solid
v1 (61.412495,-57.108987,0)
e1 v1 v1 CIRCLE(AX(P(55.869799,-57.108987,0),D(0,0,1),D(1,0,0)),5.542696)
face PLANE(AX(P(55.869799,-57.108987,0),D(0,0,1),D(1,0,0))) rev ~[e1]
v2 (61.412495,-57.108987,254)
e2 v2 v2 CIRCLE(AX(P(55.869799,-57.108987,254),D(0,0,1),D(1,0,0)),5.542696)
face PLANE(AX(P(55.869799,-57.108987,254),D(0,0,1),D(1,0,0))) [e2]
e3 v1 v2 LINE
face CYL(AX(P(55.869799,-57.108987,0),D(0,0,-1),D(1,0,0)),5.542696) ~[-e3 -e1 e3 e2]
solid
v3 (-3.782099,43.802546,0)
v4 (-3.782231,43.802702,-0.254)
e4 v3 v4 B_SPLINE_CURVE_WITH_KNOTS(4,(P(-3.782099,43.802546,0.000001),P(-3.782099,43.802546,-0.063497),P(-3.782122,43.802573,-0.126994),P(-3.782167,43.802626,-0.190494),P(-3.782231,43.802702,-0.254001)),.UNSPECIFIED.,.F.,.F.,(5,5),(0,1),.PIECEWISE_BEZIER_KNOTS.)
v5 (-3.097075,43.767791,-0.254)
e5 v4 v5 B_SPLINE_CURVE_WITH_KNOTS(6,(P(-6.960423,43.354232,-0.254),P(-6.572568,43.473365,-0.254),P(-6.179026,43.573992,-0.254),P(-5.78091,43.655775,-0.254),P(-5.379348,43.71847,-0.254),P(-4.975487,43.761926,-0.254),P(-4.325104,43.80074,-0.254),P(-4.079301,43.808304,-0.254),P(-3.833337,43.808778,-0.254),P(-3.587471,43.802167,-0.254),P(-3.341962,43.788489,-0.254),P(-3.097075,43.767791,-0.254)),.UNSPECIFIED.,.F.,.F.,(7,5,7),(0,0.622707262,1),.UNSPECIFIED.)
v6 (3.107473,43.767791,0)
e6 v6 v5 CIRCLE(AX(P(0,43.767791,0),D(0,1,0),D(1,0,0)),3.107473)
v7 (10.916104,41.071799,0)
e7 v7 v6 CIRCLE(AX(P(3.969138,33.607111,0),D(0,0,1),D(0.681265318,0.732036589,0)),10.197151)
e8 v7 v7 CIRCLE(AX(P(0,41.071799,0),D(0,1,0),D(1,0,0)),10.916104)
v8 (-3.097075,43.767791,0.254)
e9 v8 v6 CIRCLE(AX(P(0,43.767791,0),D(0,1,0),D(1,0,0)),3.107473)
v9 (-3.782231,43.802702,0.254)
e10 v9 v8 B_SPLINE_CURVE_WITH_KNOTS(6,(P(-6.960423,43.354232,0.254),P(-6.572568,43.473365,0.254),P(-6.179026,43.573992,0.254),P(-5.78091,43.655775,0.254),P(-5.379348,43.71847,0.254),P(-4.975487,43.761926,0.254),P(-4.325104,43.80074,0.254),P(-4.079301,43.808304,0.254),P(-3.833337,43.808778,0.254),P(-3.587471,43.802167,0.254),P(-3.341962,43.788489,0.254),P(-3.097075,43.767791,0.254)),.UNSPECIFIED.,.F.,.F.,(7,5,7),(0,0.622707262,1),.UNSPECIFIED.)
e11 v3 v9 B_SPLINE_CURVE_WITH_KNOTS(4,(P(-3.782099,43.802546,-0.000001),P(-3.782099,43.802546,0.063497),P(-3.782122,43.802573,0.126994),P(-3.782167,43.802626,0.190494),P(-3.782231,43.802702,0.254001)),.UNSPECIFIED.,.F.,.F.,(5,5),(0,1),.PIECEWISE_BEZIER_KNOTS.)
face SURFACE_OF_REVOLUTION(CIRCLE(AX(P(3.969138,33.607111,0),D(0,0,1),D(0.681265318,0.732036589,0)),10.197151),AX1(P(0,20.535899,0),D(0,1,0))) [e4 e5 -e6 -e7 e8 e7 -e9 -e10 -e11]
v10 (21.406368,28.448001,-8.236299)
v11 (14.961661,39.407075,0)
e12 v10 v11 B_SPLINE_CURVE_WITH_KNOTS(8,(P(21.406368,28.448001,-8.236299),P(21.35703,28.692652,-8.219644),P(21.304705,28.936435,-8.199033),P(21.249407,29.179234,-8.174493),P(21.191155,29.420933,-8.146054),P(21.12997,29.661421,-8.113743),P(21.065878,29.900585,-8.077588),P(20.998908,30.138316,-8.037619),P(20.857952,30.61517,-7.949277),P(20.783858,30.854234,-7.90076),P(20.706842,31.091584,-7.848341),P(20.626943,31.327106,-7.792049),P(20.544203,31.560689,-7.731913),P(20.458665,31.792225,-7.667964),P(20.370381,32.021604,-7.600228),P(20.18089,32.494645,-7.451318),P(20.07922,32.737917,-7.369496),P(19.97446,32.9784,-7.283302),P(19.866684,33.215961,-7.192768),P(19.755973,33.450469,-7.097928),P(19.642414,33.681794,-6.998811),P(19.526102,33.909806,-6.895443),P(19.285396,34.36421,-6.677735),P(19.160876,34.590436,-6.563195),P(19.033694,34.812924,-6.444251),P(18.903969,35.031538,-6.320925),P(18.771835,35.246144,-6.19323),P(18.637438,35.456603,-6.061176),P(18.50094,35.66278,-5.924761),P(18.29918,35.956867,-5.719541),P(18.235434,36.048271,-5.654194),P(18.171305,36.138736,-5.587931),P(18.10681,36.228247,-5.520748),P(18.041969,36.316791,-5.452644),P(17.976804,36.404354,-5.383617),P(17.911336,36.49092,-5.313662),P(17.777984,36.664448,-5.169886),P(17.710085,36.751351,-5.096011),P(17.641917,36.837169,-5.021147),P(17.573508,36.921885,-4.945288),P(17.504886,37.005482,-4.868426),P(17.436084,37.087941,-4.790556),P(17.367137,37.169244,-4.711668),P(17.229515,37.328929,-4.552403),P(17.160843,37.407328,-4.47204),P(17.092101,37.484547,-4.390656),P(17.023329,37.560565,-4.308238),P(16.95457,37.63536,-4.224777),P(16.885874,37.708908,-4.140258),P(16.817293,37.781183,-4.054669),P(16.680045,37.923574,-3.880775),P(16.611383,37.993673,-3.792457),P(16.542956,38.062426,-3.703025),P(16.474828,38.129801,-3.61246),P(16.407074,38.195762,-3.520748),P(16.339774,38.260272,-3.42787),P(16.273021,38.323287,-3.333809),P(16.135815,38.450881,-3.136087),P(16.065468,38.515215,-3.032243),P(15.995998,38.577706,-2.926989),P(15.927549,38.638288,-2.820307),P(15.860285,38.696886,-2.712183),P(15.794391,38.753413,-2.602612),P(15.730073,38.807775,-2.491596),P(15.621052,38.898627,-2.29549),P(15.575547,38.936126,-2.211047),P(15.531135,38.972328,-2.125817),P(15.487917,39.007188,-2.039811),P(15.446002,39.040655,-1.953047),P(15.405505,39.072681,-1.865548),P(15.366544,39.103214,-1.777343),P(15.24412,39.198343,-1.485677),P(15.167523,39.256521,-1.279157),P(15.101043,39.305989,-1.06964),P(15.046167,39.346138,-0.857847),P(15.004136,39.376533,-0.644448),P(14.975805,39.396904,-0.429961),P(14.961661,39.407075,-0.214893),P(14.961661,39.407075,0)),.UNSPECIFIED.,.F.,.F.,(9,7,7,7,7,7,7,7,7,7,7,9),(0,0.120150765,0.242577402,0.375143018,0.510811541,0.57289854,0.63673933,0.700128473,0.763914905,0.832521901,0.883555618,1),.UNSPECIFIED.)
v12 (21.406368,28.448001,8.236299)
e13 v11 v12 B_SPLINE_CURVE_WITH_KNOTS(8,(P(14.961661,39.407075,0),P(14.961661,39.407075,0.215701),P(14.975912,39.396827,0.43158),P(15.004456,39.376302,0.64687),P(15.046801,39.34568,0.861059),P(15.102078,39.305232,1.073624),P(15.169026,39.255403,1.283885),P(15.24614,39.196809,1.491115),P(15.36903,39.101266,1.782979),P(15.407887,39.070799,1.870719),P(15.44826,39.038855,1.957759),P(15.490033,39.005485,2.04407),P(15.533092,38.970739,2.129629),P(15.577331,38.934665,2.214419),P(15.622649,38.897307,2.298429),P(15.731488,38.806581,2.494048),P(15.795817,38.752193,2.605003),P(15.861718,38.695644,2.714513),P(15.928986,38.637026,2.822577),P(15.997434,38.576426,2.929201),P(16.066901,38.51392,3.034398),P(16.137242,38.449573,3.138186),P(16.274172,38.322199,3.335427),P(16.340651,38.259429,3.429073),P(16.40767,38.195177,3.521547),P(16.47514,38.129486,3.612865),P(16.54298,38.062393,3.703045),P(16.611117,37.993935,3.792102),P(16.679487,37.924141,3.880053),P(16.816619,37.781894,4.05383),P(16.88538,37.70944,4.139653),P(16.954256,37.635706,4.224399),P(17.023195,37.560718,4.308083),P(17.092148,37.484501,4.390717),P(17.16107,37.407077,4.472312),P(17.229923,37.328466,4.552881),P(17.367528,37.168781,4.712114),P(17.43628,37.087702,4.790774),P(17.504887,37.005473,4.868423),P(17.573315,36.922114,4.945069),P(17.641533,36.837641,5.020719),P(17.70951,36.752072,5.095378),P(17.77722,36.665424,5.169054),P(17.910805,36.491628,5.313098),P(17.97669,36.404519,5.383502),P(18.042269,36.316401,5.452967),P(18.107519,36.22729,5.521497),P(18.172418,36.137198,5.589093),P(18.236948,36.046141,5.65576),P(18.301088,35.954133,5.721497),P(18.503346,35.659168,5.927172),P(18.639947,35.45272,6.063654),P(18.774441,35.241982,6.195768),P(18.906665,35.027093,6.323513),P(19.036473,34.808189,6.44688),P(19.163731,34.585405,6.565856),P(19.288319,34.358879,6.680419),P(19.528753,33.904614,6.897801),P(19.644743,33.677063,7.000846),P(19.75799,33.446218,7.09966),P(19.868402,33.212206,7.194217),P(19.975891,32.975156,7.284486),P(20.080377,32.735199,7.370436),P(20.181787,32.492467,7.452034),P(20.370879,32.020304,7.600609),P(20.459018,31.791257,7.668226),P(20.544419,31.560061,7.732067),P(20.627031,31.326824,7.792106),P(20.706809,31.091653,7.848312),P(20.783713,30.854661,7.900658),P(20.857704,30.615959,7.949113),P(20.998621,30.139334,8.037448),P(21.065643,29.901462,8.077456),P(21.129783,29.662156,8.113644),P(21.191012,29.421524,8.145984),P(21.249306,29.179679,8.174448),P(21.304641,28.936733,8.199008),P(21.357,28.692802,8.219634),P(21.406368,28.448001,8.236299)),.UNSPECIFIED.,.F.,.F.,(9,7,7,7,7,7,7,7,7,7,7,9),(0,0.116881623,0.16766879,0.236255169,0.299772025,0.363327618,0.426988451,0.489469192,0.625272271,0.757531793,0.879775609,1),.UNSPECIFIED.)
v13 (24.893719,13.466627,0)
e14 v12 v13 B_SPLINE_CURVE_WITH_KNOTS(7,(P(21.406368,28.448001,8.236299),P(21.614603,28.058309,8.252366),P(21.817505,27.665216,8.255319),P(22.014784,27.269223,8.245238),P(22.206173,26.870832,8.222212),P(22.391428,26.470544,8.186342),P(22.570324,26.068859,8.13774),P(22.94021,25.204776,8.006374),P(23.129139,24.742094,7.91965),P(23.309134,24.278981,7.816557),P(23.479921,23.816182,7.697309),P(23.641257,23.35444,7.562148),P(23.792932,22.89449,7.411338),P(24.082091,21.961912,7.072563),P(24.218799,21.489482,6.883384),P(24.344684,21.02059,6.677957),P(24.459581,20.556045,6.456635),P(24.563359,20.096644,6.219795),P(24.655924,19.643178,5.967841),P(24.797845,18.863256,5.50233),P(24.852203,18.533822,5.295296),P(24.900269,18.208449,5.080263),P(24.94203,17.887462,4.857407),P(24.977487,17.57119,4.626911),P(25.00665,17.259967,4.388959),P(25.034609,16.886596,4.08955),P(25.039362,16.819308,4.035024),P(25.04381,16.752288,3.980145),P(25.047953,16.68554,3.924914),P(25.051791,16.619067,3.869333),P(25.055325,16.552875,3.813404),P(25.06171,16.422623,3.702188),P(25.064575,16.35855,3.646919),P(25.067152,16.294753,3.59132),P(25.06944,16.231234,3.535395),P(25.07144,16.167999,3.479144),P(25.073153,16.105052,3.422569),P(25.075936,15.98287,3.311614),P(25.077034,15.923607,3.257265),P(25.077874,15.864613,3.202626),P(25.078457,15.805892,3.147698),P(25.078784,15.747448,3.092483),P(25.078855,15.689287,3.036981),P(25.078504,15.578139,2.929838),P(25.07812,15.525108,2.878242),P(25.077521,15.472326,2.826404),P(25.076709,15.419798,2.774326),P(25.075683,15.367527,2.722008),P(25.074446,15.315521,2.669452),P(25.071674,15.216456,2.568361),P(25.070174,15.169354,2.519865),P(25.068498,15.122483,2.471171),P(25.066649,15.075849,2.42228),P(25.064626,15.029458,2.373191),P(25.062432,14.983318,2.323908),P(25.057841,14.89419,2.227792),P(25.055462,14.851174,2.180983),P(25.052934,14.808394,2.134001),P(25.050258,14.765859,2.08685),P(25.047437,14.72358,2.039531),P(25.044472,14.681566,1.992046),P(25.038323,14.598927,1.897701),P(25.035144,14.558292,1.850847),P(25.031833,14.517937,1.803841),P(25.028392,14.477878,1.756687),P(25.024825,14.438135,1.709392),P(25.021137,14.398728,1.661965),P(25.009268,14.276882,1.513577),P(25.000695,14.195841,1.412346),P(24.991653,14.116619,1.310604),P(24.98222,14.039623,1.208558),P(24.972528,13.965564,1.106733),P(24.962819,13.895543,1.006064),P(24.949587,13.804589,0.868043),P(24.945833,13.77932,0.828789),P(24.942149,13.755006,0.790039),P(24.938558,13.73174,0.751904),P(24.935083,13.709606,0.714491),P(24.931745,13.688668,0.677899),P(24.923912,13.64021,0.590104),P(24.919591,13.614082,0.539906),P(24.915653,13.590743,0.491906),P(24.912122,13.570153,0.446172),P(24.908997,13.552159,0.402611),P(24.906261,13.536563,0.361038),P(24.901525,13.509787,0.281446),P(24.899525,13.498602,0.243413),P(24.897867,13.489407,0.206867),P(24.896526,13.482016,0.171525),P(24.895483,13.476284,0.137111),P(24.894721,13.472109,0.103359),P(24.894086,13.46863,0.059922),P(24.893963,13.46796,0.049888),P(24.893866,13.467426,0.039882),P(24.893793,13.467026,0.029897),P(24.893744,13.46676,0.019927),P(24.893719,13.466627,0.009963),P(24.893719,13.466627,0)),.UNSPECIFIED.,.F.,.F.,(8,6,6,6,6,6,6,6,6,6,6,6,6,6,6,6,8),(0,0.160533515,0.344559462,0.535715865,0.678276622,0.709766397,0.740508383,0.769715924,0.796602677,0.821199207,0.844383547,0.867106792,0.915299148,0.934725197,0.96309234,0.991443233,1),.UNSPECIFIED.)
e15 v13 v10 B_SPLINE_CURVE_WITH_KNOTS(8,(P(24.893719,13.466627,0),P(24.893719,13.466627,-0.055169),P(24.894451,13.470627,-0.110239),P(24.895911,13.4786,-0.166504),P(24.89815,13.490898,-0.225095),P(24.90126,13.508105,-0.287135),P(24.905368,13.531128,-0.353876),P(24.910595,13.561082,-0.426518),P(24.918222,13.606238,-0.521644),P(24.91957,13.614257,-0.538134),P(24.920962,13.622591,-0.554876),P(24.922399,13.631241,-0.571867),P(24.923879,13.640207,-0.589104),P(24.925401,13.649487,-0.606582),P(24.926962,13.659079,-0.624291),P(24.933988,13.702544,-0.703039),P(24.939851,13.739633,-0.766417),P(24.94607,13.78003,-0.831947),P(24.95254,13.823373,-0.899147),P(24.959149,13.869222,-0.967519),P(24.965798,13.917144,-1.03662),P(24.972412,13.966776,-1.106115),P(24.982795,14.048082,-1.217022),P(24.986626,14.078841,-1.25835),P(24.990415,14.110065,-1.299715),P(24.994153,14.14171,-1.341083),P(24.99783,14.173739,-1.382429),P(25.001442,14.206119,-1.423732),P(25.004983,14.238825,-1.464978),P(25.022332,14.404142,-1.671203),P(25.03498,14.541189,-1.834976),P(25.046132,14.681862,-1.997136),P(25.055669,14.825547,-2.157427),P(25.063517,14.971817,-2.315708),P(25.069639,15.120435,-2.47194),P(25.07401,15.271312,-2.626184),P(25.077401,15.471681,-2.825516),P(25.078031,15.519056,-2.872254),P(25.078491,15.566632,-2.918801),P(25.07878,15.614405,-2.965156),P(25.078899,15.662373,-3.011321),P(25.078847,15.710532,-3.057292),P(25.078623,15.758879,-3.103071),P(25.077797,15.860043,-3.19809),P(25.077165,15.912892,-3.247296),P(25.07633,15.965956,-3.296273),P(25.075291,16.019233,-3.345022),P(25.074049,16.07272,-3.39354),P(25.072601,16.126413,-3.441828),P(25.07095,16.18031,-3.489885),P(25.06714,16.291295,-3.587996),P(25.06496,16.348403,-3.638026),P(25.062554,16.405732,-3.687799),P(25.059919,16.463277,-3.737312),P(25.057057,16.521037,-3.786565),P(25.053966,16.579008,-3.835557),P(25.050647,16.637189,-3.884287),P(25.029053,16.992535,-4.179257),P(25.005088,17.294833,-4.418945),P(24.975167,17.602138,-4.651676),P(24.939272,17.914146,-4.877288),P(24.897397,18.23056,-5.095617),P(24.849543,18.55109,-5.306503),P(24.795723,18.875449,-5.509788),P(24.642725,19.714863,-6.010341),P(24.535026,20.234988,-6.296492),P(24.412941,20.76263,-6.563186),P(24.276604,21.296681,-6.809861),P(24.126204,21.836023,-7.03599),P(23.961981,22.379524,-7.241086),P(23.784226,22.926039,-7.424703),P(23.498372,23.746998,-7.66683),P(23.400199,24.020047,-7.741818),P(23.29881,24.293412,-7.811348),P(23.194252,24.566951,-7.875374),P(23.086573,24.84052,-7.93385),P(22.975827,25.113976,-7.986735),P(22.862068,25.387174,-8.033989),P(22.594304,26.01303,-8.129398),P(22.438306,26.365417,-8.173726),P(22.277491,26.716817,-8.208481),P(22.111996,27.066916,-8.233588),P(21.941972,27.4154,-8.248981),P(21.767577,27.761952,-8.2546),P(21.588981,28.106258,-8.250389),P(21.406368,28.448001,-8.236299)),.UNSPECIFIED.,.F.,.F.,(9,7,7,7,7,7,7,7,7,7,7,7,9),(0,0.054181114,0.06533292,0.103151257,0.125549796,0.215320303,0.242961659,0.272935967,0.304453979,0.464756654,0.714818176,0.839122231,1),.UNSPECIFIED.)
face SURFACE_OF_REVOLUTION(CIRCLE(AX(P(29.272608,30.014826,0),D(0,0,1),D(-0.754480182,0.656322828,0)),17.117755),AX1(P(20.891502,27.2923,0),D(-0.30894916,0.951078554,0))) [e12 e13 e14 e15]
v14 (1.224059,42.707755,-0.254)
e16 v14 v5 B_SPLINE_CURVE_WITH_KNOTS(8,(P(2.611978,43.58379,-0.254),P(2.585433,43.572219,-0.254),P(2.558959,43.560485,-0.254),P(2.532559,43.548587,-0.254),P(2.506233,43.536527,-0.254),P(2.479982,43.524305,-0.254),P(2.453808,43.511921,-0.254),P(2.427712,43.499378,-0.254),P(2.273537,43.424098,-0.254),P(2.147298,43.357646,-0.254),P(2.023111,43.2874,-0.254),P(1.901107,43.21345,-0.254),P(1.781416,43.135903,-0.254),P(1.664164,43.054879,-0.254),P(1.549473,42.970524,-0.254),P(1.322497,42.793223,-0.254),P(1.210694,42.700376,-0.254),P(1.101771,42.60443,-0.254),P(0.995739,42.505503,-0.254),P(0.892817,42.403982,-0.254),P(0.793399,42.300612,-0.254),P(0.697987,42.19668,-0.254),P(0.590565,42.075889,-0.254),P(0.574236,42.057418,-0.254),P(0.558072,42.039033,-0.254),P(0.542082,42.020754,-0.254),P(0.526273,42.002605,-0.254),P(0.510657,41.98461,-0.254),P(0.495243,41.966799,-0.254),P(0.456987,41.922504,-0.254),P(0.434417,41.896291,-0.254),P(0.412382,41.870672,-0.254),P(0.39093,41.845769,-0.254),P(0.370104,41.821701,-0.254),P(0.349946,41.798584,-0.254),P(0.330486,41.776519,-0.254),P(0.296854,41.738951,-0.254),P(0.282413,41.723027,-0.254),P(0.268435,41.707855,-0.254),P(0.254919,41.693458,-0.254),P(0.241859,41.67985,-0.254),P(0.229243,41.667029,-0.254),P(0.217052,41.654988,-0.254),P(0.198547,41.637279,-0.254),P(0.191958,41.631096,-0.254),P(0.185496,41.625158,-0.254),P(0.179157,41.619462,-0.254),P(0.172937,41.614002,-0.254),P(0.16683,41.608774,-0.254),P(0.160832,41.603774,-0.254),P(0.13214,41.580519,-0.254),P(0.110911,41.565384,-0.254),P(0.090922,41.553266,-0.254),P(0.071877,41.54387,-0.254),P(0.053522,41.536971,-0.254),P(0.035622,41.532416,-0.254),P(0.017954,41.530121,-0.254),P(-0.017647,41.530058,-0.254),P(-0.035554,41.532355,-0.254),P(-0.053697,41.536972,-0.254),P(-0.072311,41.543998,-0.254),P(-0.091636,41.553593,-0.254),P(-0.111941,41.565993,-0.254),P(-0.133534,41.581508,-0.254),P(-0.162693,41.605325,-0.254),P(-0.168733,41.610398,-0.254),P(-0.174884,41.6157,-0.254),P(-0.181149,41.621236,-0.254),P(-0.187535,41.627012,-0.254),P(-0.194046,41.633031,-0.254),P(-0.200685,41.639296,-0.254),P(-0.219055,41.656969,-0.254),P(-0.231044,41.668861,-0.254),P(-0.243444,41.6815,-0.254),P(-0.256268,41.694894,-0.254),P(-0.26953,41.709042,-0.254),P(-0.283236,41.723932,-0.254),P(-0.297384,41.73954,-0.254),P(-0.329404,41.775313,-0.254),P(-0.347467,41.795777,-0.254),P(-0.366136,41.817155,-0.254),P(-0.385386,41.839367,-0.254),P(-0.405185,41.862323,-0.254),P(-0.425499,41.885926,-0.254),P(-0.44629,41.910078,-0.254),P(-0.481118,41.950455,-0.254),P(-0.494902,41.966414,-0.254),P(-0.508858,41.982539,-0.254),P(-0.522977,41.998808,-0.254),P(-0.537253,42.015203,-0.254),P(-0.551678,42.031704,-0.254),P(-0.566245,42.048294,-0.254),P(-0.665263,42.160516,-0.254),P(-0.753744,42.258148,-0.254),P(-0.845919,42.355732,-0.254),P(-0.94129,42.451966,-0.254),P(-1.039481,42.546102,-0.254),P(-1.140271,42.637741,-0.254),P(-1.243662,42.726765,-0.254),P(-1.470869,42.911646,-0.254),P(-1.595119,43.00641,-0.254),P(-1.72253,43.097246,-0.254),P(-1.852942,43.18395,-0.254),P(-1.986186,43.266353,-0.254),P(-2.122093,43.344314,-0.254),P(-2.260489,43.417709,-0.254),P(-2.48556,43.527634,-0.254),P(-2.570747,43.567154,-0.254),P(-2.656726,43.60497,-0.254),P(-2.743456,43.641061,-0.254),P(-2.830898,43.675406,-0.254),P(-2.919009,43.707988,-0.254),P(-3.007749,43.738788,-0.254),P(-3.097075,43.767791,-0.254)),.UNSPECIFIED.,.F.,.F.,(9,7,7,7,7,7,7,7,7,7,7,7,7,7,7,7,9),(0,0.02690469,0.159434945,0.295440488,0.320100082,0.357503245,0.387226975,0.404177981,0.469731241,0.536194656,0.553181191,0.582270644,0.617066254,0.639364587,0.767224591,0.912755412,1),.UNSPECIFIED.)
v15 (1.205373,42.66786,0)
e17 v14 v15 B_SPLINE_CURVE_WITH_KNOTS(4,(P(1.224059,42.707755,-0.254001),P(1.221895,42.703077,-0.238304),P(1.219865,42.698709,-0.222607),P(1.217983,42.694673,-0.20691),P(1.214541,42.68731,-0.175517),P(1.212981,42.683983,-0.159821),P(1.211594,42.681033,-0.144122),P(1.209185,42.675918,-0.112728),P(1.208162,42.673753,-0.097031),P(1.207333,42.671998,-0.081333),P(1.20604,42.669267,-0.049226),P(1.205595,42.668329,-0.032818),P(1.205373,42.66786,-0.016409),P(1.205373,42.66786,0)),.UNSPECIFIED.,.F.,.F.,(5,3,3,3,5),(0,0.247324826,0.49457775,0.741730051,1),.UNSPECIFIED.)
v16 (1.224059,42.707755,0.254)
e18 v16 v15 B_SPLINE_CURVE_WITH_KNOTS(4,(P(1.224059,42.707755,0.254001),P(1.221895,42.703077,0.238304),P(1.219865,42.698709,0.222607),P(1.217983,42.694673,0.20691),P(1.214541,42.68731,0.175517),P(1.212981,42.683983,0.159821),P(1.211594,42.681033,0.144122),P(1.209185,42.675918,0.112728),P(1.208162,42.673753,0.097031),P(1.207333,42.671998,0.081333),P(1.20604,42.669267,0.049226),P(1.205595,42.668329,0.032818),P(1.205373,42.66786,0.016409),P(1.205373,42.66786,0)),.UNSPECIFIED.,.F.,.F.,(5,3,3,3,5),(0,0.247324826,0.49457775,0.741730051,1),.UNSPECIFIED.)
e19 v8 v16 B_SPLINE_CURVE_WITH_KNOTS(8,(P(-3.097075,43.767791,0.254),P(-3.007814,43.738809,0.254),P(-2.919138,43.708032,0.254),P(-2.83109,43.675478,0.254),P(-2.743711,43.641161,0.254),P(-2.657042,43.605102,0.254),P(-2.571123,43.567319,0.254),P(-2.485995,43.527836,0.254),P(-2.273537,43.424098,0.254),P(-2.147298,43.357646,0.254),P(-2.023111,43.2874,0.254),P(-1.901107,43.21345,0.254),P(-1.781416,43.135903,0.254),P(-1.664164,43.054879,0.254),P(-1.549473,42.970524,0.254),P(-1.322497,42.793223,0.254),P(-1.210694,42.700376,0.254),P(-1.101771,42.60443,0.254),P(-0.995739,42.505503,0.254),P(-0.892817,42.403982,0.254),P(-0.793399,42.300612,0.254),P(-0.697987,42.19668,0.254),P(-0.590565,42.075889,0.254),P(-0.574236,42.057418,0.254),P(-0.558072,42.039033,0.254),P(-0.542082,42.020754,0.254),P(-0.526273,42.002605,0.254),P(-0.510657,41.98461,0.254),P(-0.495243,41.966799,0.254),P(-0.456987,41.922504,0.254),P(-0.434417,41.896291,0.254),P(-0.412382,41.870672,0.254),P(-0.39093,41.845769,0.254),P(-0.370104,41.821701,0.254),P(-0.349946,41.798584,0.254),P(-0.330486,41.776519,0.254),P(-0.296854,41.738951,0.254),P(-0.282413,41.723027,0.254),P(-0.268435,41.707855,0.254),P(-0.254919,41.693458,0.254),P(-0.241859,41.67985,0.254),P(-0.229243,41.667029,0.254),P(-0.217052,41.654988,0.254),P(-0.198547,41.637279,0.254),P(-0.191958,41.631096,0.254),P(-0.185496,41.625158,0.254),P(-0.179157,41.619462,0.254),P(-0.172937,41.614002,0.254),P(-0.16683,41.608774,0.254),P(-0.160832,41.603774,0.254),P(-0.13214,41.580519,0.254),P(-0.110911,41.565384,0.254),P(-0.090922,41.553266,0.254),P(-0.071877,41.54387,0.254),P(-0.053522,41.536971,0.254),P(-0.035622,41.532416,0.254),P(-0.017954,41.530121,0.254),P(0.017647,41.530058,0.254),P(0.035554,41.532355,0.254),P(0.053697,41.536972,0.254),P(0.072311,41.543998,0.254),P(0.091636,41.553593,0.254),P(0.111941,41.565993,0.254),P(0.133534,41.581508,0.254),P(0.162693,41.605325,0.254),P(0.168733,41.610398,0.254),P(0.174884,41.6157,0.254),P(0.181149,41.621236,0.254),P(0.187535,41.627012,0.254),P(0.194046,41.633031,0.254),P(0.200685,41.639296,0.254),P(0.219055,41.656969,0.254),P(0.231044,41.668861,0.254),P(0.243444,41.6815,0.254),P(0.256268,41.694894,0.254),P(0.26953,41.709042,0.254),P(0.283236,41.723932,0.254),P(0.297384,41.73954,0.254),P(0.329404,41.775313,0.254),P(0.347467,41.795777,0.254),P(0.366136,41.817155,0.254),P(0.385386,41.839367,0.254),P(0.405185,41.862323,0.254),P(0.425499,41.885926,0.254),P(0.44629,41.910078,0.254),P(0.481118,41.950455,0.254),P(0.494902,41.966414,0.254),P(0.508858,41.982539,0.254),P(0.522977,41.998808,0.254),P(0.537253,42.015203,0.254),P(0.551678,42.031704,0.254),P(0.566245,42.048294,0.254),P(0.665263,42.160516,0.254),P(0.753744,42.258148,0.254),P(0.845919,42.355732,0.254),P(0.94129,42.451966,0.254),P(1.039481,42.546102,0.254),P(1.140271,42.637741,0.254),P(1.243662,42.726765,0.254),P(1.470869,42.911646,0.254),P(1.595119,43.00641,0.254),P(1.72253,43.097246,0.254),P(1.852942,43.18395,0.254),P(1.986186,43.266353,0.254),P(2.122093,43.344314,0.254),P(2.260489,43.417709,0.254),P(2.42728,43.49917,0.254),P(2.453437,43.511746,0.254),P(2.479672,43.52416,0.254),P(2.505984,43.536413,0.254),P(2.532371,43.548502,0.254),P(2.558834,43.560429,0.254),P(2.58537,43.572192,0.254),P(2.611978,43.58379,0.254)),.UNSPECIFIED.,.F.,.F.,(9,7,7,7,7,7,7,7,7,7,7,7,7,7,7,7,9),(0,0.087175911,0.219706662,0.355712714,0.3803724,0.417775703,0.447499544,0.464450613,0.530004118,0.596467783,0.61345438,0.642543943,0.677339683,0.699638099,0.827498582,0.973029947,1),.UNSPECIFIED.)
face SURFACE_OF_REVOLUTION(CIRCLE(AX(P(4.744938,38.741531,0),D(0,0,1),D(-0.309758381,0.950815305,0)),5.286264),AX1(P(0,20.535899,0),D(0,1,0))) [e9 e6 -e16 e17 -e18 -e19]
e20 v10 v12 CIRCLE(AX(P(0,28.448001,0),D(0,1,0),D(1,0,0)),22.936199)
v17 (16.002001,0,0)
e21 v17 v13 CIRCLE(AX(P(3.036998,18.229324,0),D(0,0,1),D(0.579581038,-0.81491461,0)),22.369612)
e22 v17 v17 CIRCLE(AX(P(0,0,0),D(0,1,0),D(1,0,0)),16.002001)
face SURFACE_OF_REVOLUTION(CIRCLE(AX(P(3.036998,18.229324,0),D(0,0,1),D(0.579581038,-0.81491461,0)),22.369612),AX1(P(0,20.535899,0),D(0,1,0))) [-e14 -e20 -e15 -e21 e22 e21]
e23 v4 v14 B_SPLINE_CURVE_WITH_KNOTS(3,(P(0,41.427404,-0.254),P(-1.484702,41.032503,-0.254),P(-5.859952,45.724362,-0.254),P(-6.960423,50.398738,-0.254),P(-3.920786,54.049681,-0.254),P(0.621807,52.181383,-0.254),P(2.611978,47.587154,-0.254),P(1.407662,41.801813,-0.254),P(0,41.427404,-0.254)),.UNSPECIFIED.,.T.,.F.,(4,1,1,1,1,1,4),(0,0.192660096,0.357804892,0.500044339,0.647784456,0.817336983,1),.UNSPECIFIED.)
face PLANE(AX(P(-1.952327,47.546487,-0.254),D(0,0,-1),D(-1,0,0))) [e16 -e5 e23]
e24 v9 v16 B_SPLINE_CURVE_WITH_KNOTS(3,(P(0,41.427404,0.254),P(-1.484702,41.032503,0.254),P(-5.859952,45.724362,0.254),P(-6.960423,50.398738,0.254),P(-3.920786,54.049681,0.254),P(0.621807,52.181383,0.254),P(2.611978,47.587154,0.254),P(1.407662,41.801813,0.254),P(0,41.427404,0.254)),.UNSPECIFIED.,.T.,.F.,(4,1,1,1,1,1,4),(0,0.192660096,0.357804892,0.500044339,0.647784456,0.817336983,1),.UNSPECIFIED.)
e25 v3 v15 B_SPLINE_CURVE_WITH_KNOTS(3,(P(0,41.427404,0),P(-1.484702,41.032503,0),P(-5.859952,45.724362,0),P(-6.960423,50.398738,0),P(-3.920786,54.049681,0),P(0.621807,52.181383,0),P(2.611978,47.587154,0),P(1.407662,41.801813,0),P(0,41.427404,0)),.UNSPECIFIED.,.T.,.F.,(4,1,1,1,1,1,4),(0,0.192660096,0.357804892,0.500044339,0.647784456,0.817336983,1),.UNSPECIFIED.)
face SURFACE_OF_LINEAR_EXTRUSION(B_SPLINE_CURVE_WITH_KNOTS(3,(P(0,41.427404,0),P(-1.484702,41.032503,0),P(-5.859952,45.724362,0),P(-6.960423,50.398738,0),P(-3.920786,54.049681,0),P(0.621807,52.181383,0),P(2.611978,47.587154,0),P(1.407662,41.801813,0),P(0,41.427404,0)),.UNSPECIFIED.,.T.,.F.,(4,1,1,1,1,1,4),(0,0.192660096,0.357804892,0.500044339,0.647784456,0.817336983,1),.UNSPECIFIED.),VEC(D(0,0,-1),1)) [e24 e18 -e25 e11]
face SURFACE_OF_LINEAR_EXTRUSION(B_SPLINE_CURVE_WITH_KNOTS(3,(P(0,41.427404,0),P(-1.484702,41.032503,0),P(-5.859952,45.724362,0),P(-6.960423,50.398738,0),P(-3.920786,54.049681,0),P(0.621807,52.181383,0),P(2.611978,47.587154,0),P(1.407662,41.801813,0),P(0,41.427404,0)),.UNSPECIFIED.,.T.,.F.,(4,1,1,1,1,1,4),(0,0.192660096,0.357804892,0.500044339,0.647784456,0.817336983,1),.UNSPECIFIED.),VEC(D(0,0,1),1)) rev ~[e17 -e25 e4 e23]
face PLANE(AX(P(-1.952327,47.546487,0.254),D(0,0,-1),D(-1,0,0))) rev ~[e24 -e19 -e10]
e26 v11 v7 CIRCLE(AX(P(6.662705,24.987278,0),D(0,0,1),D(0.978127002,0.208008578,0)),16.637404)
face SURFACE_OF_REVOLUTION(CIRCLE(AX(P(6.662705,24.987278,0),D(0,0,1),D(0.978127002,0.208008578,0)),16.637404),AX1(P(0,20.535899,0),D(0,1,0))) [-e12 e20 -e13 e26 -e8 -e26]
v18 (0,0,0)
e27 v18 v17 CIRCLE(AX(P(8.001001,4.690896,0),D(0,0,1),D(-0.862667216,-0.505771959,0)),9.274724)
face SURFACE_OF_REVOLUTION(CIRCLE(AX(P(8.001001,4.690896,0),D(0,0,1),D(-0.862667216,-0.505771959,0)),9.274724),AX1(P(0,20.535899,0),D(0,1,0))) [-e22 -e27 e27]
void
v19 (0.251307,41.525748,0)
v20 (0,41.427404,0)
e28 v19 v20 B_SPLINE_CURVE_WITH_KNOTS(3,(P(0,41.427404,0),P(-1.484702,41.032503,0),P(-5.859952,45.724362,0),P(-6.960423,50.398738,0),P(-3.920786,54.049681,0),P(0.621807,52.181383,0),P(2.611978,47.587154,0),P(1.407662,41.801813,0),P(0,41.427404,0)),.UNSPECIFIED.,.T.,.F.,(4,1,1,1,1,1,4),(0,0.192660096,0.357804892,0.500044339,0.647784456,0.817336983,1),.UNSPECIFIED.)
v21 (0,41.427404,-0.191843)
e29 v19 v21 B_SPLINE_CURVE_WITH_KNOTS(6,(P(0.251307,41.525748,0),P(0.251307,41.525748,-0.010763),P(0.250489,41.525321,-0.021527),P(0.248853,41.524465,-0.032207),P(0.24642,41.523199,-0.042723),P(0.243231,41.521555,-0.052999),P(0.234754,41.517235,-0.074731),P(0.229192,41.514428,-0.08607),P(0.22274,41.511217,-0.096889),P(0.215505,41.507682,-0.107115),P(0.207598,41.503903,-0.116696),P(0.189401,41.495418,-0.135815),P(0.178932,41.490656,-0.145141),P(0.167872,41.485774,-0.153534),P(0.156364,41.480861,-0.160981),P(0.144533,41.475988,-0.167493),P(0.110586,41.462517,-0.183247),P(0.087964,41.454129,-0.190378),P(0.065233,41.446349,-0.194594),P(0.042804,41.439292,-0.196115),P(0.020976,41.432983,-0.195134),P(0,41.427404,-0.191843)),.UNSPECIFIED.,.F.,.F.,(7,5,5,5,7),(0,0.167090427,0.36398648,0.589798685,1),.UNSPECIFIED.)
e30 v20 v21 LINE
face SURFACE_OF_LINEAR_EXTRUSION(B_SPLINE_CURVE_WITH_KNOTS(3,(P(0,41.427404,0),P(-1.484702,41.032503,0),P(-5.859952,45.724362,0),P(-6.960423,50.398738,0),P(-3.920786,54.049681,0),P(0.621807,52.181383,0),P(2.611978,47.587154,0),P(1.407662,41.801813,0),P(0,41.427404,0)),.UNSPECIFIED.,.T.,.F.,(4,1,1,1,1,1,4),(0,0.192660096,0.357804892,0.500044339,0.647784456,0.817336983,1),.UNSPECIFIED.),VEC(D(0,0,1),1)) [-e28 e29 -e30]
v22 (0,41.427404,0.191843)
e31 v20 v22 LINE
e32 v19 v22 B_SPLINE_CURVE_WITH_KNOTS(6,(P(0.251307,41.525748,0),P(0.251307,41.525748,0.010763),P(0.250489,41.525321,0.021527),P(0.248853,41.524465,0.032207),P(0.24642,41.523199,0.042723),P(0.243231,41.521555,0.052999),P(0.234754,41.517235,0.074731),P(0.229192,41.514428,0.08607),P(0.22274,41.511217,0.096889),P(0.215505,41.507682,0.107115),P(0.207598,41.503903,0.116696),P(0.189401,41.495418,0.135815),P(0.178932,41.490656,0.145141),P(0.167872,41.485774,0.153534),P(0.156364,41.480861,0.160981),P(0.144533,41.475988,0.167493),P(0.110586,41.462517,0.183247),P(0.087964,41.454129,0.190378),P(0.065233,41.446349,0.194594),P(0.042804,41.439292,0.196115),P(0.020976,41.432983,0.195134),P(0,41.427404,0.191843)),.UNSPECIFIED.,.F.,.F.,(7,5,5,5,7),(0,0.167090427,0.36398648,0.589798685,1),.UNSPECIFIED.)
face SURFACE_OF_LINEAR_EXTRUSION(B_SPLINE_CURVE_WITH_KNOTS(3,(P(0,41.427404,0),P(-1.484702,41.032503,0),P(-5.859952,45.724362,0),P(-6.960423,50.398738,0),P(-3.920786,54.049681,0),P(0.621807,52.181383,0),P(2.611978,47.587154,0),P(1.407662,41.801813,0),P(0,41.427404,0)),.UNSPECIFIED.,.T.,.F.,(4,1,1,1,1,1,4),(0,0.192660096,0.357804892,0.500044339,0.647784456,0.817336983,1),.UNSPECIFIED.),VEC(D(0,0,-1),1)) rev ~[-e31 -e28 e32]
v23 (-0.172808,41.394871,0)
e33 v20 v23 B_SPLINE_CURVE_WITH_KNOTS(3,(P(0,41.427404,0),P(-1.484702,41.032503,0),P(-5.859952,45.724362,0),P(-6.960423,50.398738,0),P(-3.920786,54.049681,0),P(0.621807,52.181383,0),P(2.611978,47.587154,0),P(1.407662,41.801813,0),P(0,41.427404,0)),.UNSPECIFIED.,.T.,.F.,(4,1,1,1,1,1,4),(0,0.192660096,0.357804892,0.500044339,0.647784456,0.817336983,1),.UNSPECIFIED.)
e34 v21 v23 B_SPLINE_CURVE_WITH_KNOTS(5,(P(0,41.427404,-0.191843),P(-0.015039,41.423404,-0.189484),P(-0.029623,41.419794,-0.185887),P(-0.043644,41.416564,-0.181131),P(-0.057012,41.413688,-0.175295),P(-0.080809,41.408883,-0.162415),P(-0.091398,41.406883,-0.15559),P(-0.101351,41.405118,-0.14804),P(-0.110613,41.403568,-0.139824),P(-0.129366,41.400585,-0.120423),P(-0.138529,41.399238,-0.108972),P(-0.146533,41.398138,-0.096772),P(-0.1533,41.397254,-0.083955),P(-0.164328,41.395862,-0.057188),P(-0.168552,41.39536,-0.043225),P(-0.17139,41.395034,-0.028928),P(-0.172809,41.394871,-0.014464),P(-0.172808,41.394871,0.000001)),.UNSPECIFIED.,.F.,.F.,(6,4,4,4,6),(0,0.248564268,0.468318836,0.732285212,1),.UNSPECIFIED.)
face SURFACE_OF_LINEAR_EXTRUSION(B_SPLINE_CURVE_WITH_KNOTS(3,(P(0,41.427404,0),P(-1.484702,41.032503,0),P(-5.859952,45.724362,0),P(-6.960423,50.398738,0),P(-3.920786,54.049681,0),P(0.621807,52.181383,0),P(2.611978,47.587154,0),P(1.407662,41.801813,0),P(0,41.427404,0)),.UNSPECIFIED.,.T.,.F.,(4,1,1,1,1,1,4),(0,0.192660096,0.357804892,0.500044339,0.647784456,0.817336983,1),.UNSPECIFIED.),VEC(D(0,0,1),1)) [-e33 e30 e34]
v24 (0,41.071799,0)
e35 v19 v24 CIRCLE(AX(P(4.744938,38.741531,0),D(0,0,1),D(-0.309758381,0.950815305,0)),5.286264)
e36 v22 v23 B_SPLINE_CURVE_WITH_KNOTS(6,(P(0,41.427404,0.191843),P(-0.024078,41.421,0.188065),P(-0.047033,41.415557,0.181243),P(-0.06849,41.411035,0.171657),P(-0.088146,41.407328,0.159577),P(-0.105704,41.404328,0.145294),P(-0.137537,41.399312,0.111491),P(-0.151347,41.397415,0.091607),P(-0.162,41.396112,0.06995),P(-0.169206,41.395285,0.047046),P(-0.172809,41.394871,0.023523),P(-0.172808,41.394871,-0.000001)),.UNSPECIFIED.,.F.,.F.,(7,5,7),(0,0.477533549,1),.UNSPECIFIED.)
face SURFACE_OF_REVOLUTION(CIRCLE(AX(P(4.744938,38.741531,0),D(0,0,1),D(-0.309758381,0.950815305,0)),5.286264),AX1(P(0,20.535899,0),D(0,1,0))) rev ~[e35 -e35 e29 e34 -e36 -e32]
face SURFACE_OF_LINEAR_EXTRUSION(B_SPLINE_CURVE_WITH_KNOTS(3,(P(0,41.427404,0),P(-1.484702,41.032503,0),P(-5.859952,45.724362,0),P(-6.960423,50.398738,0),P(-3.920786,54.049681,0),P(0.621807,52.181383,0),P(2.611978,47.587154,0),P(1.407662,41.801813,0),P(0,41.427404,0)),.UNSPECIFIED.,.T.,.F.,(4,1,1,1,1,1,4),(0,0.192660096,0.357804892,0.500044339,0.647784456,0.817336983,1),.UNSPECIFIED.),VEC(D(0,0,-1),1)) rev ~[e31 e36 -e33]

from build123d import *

# Parameters (mm, degrees)
F3_DEPTH = 0.254
F6_R     = 5.5426956175
F7_DEPTH = 254


with BuildPart() as f1:
    # F0 (on Top) → F1 (revolve)
    with BuildSketch(Plane.XY):
        with BuildLine():
            Line((0, 41.0717986524), (0, 0))
            ThreePointArc((0, 0), (8.0010006204, -4.583828836), (16.0020012408, 0))
            ThreePointArc((16.0020012408, 0), (24.7702942279, 12.931834663), (22.9361988604, 28.4480005503))
            ThreePointArc((22.9361988604, 28.4480005503), (18.7117048689, 36.4600633786), (10.9161036724, 41.0717986524))
            ThreePointArc((10.9161036724, 41.0717986524), (7.2970227011, 43.2459425943), (3.1074734399, 43.7677911778))
            ThreePointArc((3.1074734399, 43.7677911778), (1.2807123225, 42.7344901731), (0, 41.0717986524))
        make_face()
    revolve(axis=Axis((0, 20.5358993262, 0), (0, 1, 0)))

    # F2 (on Top) → F3 (join, symmetric)
    with BuildSketch(Plane.XY):
        with BuildLine():
            add(Edge.make_bspline(
                [(0, 41.4274036884), (-1.4847024276, 41.0325029813), (-5.8599517357, 45.7243622873), (-6.9604233885, 50.3987380255), (-3.9207861061, 54.0496813909), (0.6218069095, 52.1813827191), (2.6119782747, 47.5871539427), (1.4076616275, 41.8018131066), (0, 41.4274036884)],
                knots=[0, 0, 0, 0, 0.1926600958, 0.3578048919, 0.5000443393, 0.6477844559, 0.8173369835, 1, 1, 1, 1], degree=3))
        make_face()
    extrude(amount=F3_DEPTH, both=True)

    # F4 (on Top) → F5 (revolve, cut)
    with BuildSketch(Plane.XY):
        with BuildLine():
            ThreePointArc((16.3576006889, 41.2495993078), (12.9922778404, 24.7263095145), (25.4254024476, 13.3350007236))
            Line((25.4254024476, 13.3350007236), (16.3576006889, 41.2495993078))
        make_face()
    revolve(axis=Axis((20.8915015683, 27.2923000157, 0), (-0.3089491601, 0.9510785543, 0)), mode=Mode.SUBTRACT)


with BuildPart() as f7:
    # F6 (on Top) → F7 (new body)
    with BuildSketch(Plane.XY):
        with Locations((55.8697991073, -57.1089871228)):
            Circle(F6_R)
    extrude(amount=F7_DEPTH)


solid = Compound([f1.part, f7.part])
